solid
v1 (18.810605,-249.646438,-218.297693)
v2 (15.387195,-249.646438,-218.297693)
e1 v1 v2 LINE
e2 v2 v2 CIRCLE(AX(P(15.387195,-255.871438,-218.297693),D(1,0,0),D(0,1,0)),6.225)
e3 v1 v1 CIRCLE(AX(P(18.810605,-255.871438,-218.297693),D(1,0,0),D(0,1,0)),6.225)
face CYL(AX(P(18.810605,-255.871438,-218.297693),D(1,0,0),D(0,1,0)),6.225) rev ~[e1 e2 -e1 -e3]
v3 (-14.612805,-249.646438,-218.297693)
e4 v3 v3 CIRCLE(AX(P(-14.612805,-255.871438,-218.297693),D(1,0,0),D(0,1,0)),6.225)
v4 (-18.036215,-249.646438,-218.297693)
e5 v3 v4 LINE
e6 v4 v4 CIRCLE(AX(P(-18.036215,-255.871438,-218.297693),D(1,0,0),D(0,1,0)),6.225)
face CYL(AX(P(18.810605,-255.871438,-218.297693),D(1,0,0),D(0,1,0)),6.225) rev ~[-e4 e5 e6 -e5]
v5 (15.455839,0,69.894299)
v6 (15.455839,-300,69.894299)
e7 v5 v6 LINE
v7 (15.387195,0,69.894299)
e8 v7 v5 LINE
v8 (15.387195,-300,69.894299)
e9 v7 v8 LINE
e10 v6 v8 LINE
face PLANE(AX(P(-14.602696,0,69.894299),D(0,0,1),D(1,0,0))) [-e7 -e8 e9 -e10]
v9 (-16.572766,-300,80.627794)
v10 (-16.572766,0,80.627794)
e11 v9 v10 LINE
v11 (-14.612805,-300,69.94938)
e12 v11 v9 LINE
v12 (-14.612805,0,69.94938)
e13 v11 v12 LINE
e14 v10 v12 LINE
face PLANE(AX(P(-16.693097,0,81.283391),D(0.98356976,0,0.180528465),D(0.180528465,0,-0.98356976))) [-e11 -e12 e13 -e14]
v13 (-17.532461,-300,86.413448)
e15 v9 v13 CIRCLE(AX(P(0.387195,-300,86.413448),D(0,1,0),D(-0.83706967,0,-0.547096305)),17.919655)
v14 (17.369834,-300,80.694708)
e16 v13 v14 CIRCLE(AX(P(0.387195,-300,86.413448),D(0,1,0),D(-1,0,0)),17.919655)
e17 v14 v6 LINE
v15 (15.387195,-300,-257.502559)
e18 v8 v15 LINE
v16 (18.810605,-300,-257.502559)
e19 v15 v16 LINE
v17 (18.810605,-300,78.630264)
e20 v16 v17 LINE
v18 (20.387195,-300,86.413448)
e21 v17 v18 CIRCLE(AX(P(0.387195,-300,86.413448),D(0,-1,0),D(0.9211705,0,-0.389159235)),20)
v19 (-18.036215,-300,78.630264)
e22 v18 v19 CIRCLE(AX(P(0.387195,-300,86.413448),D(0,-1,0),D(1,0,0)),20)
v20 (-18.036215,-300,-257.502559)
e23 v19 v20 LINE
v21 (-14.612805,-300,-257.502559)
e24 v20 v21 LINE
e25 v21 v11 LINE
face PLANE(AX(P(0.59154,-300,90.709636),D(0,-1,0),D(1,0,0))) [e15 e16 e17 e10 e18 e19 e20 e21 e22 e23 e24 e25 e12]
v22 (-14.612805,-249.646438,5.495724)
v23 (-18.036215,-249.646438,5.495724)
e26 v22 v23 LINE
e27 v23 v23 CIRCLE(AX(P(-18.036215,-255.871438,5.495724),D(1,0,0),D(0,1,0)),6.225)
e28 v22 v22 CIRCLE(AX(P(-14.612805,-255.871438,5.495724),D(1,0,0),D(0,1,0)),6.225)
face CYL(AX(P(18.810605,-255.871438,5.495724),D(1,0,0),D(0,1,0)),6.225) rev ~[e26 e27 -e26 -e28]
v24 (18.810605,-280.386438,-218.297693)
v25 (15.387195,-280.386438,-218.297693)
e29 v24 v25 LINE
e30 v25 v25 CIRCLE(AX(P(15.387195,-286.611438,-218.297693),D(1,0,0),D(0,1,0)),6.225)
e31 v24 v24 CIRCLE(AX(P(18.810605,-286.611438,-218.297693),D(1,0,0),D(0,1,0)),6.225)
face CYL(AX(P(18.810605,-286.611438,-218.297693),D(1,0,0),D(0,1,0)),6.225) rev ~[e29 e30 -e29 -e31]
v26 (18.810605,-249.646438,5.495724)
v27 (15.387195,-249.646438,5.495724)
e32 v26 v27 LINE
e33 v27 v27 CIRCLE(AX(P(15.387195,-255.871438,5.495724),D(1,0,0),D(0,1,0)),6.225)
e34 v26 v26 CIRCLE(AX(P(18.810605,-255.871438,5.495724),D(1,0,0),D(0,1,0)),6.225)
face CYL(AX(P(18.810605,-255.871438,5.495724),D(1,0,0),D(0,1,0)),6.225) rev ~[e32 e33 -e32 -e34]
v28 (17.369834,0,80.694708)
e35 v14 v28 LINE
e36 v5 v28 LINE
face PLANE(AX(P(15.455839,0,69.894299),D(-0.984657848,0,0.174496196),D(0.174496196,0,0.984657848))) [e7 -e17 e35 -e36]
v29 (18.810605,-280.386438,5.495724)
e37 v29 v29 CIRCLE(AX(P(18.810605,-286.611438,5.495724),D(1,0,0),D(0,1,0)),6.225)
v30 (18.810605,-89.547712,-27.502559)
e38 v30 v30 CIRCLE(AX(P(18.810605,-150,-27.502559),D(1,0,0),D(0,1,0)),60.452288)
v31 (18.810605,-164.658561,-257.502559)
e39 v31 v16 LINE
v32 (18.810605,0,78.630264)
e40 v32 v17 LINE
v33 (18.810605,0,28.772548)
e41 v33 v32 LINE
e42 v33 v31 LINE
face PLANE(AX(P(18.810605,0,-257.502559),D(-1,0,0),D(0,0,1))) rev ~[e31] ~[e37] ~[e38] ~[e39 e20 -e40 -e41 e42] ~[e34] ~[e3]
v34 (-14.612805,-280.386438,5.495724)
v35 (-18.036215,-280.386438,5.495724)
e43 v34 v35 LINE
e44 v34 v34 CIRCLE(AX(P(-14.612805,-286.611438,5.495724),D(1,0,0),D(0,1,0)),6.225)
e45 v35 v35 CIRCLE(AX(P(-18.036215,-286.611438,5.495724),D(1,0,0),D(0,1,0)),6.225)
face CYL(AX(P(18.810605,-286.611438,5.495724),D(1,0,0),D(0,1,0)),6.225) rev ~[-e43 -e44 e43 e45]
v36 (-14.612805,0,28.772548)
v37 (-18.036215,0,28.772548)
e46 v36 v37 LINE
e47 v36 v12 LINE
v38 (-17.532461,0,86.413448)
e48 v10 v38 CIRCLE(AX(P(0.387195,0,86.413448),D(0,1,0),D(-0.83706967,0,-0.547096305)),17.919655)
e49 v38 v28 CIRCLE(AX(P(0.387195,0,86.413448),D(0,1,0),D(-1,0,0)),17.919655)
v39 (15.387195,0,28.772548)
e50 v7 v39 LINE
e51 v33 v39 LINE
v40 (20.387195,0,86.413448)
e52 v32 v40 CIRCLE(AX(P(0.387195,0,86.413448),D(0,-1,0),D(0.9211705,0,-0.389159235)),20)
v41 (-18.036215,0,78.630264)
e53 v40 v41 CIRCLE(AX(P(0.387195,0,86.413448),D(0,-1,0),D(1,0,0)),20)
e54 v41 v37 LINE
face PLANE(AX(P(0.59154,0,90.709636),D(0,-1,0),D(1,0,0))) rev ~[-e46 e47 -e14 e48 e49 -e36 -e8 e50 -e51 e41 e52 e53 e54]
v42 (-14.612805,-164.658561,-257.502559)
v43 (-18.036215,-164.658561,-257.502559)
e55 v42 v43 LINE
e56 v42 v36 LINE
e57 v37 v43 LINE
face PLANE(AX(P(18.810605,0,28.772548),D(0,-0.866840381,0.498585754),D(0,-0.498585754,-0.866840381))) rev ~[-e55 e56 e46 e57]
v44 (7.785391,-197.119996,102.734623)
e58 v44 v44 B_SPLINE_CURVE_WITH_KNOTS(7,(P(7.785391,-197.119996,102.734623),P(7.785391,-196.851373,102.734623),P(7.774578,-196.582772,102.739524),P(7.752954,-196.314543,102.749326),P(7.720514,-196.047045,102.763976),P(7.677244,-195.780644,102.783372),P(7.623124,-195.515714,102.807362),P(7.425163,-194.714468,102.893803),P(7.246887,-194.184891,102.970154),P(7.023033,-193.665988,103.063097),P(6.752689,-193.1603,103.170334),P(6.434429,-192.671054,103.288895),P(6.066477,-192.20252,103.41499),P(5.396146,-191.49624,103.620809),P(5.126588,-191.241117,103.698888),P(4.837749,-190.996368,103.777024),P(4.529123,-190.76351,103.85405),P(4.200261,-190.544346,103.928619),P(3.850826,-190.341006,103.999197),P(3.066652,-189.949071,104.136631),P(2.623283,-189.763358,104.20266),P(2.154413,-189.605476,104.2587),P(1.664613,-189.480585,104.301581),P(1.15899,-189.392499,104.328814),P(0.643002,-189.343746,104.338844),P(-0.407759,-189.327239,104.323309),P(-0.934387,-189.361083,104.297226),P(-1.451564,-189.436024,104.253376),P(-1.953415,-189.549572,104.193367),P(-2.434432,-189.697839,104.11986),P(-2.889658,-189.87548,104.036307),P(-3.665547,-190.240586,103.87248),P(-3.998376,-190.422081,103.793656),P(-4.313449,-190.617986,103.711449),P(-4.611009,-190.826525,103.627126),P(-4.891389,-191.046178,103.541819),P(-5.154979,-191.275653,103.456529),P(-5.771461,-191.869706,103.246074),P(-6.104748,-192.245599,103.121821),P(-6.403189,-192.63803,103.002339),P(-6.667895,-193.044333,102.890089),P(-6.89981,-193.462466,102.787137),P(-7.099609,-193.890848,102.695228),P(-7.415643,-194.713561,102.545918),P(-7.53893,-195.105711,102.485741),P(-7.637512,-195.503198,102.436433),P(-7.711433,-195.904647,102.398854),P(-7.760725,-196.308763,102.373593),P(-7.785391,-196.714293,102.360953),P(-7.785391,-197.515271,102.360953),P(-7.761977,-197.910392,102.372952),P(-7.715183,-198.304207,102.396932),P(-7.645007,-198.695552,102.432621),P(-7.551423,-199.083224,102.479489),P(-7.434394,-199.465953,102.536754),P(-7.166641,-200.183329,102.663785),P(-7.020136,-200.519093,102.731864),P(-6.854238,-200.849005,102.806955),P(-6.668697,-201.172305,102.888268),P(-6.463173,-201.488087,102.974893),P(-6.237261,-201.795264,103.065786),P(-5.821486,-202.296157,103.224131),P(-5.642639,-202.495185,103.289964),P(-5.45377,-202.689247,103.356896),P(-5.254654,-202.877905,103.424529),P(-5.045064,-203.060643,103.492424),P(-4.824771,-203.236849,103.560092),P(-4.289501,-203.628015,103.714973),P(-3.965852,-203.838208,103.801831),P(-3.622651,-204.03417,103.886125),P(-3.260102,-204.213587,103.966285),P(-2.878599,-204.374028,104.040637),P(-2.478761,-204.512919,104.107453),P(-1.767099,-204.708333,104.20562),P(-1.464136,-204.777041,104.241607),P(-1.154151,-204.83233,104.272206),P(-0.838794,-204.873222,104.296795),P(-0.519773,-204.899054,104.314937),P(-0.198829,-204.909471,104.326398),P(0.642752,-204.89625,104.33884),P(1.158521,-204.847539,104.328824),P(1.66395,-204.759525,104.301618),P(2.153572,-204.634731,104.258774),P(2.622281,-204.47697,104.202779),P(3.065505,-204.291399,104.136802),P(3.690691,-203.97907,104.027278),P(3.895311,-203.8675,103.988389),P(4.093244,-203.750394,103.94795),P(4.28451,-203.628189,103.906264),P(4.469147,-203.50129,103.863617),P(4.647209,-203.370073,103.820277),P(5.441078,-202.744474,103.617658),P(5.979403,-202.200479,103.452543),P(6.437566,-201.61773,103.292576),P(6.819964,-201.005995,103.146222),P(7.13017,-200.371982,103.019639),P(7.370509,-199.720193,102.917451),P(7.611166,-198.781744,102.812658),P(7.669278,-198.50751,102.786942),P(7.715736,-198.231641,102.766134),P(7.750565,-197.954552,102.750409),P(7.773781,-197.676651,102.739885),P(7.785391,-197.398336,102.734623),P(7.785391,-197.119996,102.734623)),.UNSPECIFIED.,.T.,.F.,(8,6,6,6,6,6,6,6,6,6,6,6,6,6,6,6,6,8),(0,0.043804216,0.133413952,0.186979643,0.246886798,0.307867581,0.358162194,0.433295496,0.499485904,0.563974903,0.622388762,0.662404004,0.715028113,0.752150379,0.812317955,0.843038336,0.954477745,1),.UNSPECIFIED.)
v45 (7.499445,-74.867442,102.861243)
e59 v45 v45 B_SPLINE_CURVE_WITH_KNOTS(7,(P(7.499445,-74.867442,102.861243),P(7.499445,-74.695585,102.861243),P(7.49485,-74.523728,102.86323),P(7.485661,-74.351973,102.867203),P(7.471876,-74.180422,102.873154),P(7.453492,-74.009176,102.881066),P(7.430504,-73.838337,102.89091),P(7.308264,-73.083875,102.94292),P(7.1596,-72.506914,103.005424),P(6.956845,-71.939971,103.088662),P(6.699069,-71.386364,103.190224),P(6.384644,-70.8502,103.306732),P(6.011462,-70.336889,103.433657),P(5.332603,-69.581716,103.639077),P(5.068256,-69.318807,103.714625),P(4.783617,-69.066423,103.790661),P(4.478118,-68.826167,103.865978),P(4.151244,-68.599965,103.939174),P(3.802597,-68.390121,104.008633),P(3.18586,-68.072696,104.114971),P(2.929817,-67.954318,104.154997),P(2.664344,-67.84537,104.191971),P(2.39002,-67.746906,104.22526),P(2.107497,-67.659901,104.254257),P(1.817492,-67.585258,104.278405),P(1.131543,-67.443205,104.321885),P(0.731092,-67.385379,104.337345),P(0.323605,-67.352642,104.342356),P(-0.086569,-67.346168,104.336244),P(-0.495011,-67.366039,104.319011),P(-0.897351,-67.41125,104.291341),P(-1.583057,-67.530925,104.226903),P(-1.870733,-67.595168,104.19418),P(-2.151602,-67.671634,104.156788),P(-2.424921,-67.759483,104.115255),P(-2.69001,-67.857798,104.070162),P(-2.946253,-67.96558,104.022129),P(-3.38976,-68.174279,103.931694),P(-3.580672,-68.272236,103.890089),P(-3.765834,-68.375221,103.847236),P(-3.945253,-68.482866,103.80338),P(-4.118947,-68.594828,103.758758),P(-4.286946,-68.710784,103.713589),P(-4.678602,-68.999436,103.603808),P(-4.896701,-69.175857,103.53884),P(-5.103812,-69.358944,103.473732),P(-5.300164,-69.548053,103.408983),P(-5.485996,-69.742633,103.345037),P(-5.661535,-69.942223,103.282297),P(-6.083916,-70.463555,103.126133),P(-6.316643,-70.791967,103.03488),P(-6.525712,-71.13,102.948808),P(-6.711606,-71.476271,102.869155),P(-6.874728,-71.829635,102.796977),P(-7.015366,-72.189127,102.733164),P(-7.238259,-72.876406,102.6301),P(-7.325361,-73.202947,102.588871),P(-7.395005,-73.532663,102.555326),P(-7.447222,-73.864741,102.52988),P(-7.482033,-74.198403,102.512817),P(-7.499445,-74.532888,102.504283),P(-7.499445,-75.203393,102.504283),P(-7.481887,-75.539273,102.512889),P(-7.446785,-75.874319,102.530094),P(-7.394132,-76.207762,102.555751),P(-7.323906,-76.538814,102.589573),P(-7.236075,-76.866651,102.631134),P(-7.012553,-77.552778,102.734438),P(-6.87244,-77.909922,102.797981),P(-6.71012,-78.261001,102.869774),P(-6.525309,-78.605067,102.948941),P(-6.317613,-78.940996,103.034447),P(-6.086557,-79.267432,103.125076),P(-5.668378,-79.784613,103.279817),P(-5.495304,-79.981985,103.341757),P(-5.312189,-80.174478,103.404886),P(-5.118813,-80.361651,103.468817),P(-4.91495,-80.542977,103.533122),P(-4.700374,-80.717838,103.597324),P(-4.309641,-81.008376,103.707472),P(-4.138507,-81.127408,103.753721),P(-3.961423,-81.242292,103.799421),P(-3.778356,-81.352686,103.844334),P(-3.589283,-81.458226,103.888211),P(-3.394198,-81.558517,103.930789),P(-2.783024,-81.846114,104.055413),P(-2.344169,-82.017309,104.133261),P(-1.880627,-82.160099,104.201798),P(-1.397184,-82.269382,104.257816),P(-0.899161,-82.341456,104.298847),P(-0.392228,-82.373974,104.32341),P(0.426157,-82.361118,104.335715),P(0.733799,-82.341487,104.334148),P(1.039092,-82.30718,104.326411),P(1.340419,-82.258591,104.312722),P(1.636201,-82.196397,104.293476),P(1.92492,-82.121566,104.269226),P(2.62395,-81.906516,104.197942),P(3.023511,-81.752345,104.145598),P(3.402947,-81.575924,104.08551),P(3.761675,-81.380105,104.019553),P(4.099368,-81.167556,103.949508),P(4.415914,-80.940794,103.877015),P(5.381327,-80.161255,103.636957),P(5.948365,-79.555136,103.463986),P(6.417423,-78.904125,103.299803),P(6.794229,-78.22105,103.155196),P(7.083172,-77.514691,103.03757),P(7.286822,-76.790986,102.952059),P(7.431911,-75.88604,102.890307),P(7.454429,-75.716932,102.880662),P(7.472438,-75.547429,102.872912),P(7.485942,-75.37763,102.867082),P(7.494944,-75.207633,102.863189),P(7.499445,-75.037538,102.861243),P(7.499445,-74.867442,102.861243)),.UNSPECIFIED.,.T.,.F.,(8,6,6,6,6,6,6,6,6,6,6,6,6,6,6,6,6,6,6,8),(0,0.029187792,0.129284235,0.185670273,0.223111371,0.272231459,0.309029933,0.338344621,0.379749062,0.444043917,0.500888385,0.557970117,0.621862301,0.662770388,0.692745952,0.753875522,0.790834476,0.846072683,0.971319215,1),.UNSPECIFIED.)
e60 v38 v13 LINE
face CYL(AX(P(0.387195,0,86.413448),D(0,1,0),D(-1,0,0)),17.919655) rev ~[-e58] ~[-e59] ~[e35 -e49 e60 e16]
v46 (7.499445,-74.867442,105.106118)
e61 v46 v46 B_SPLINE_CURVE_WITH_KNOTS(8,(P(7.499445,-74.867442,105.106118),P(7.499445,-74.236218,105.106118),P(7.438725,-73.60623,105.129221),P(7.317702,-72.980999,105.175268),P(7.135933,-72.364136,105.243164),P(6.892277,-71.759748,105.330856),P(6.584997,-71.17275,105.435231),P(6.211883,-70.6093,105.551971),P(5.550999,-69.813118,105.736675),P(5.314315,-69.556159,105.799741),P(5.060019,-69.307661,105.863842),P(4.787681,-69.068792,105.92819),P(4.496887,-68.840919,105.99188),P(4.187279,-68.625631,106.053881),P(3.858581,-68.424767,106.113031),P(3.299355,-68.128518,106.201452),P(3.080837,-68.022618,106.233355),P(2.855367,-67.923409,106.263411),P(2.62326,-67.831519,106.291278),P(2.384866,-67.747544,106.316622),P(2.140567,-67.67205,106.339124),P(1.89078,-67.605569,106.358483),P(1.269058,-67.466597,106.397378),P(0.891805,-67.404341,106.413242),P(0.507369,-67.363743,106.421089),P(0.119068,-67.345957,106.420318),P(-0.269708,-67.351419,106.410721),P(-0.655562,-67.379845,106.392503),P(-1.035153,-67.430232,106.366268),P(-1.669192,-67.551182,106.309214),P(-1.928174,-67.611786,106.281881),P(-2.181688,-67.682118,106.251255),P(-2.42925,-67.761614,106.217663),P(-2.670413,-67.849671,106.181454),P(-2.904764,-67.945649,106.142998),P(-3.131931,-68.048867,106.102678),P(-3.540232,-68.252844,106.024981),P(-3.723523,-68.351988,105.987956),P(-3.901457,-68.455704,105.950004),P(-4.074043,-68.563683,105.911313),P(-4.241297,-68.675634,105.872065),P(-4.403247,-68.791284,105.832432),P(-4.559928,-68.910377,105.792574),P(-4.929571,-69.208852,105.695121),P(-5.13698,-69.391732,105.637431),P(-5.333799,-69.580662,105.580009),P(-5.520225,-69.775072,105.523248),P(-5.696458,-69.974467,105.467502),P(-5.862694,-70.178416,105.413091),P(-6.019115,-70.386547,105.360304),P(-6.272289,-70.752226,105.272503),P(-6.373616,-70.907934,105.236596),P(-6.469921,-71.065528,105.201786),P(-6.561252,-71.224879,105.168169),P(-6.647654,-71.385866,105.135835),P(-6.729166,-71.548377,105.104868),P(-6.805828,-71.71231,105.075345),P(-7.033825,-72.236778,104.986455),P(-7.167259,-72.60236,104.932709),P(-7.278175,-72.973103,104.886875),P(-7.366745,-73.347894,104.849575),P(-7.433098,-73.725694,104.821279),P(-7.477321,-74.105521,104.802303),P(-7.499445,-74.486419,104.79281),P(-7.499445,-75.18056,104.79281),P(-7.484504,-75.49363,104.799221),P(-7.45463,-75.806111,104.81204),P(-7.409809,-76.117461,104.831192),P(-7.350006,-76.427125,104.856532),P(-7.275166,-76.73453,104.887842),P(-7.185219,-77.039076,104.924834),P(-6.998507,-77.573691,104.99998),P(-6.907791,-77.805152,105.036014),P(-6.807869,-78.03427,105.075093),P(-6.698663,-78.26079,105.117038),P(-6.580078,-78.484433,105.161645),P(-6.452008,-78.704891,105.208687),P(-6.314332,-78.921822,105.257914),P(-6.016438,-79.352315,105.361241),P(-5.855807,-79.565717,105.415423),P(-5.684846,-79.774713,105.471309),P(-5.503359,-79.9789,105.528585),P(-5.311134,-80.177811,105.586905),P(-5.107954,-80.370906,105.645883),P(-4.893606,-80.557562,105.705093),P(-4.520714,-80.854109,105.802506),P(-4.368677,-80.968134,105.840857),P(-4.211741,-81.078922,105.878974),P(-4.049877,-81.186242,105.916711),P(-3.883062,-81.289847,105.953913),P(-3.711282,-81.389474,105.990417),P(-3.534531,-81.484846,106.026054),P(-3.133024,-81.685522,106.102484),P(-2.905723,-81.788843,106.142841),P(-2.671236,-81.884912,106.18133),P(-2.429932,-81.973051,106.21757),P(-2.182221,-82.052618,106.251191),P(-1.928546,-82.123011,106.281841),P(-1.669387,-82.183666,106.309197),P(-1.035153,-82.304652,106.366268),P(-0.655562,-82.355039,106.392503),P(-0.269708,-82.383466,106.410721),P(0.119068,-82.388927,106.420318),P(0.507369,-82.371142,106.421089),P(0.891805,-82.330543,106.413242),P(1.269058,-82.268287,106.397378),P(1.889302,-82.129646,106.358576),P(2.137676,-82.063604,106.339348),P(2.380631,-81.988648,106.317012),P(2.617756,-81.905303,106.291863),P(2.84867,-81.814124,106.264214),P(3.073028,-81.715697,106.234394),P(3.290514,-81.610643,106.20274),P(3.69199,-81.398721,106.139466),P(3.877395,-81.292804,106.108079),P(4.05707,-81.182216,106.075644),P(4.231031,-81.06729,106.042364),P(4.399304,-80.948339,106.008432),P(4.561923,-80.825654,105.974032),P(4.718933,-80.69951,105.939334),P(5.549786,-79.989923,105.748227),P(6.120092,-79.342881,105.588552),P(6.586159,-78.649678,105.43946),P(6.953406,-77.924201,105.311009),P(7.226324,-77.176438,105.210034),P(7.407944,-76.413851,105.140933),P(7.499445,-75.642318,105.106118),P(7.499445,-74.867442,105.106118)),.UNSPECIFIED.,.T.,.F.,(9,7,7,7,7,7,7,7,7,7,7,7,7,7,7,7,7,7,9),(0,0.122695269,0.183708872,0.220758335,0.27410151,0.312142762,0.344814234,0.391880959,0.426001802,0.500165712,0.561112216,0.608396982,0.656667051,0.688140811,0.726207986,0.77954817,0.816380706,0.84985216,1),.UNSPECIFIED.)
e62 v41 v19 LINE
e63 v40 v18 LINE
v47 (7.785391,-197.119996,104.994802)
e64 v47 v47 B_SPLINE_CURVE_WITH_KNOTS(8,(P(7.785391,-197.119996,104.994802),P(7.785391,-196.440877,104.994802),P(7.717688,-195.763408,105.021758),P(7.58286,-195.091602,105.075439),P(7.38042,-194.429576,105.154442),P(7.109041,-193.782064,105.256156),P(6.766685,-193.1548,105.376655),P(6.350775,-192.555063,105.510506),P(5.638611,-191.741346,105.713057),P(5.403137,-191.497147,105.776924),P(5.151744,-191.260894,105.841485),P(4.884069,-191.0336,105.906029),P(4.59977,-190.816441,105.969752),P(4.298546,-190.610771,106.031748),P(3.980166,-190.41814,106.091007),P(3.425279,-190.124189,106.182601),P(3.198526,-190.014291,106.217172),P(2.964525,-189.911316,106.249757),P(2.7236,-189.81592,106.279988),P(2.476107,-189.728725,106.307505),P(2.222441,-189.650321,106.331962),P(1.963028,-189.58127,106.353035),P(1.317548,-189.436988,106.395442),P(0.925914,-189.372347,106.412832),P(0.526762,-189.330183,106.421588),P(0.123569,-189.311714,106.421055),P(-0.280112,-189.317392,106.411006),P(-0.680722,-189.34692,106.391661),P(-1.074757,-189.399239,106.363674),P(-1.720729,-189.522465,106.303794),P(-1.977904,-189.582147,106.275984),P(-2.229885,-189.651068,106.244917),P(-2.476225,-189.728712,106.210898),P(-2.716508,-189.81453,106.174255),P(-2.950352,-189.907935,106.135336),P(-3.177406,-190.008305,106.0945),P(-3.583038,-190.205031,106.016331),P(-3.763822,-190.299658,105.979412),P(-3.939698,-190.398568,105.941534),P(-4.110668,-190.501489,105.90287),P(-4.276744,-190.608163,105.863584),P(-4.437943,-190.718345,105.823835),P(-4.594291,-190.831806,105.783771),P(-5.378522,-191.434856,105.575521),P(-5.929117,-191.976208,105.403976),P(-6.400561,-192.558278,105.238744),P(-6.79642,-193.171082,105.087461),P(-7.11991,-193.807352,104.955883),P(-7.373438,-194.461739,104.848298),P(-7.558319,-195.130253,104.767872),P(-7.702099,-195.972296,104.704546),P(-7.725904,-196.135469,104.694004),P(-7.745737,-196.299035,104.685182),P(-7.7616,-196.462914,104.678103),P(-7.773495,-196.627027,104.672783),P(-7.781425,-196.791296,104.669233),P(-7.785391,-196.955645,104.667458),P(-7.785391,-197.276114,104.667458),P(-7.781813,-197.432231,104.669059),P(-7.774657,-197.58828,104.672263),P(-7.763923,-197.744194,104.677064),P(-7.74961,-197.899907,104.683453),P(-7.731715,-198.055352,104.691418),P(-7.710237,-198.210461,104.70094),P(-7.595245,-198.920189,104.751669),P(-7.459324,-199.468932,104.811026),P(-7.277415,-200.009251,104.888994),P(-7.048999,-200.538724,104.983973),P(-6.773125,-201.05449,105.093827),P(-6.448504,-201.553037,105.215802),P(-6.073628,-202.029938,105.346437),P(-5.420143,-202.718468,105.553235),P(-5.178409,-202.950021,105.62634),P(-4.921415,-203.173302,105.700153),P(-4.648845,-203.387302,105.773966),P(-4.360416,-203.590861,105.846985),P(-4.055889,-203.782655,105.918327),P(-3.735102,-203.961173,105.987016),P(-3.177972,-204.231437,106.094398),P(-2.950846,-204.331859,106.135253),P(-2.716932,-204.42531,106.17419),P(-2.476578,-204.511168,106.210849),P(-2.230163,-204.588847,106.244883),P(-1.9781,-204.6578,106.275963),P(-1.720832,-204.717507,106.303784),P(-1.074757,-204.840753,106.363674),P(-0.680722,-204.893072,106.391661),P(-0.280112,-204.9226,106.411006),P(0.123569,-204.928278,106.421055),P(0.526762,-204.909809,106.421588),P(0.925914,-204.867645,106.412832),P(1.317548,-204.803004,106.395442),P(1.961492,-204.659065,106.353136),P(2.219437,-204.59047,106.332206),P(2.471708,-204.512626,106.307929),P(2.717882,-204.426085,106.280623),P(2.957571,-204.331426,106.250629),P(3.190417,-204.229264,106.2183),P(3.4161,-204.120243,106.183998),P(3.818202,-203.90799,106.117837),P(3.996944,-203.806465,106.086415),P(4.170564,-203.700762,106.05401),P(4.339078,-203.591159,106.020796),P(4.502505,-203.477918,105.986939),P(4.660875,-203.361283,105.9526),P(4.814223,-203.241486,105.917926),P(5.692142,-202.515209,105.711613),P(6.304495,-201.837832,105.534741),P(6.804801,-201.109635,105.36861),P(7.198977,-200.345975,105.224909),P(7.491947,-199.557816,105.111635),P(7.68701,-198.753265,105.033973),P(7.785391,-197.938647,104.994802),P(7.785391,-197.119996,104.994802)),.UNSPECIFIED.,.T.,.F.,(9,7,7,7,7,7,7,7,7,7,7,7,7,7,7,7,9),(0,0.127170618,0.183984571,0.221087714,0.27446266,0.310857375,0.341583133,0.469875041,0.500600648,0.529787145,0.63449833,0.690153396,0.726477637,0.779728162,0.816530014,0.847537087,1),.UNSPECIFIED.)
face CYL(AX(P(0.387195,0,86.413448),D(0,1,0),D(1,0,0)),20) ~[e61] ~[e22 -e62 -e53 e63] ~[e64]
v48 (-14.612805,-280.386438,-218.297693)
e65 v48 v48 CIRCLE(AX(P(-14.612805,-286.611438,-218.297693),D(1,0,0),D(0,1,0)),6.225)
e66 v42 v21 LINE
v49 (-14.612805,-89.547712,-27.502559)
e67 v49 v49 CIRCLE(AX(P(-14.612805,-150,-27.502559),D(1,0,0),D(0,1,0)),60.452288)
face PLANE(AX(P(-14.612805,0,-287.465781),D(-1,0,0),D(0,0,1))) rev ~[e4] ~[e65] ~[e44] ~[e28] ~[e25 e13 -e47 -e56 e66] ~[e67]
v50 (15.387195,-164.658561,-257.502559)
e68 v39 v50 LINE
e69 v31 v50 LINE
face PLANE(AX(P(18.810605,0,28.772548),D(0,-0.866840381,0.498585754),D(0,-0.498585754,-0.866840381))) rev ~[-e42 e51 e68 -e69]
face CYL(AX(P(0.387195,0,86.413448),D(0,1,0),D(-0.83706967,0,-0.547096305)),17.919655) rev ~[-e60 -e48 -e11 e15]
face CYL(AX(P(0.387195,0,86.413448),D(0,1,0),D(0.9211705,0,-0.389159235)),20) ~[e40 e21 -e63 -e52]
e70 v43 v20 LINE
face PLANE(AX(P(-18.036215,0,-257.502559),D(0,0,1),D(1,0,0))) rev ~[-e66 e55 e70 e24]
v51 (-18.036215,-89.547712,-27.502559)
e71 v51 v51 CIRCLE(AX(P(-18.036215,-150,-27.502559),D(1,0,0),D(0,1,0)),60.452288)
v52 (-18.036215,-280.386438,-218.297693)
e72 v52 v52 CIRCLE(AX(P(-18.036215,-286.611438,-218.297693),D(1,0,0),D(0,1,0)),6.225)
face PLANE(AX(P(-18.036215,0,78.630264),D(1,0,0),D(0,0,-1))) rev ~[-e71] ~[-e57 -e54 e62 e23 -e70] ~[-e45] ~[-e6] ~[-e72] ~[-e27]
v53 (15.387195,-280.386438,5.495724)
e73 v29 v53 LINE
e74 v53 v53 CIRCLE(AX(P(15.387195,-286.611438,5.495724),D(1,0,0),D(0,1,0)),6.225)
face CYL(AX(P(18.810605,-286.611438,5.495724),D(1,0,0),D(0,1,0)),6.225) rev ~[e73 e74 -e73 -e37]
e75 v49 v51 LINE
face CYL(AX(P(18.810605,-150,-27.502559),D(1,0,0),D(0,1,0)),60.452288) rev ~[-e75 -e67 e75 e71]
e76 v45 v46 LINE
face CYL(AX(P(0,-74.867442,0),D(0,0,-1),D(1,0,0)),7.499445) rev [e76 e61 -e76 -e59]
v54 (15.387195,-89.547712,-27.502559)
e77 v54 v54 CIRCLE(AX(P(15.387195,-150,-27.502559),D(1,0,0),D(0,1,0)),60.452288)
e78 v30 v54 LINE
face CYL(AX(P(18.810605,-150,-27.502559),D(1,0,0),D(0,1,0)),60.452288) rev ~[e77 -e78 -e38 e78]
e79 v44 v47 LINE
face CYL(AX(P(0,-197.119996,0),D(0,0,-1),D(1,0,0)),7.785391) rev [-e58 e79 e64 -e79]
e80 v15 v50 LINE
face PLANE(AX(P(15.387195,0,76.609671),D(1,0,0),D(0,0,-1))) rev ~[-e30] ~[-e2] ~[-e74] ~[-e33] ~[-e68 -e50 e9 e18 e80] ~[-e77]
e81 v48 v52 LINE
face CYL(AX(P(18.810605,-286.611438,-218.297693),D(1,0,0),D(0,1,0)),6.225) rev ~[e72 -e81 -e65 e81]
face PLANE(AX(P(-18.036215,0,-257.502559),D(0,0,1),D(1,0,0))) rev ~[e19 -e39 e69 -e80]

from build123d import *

# Parameters (mm, degrees)
F1_DEPTH  = 300
F3_DEPTH  = 300
F4_R      = 6.225
F5_DEPTH  = 200
F6_R      = 7.4994450041
F6_R_2    = 7.7853905485
F7_DEPTH  = 106.4144483809
F9_DEPTH  = 1000
F10_R     = 60.4522878615
F11_DEPTH = 500


with BuildPart() as f1:
    # F0 (on Front) → F1 (new body)
    with BuildSketch(Plane.XZ):
        with BuildLine():
            Line((-18.0362154643, 86.4134483809), (18.8106045383, 86.4134483809))
            Line((18.8106045383, 86.4134483809), (18.8106045383, 78.6302636906))
            ThreePointArc((18.8106045383, 78.6302636906), (19.9890847523, 82.4428187096), (20.387194537, 86.4134483809))
            ThreePointArc((20.387194537, 86.4134483809), (-3.5834351343, 106.0153385962), (-18.0362154643, 78.6302636906))
            Line((-18.0362154643, 78.6302636906), (-18.0362154643, 86.4134483809))
        make_face()
        with BuildLine():
            Line((18.8106045383, 78.6302636906), (18.8106045383, 86.4134483809))
            Line((18.8106045383, 86.4134483809), (-18.0362154643, 86.4134483809))
            Line((-18.0362154643, 86.4134483809), (-18.0362154643, 78.6302636906))
            ThreePointArc((-18.0362154643, 78.6302636906), (0.387194537, 66.4134483809), (18.8106045383, 78.6302636906))
        make_face()
        with BuildLine():
            Line((18.8106045383, -257.5025590471), (18.8106045383, 78.6302636906))
            ThreePointArc((18.8106045383, 78.6302636906), (0.387194537, 66.4134483809), (-18.0362154643, 78.6302636906))
            Line((-18.0362154643, 78.6302636906), (-18.0362154643, -257.5025590471))
            Line((-18.0362154643, -257.5025590471), (18.8106045383, -257.5025590471))
        make_face()
    extrude(amount=F1_DEPTH)

    # F2 (on face) → F3 (cut)
    with BuildSketch(Plane(origin=(0, 0, 0), x_dir=(-1, 0, 0), z_dir=(0, 1, 0))):
        with BuildLine():
            Line((175.8913316219, 44.6973187515), (175.9091161187, 44.6973187515))
            ThreePointArc((175.9091161187, 44.6973187515), (159.7223112701, 60.9808530469), (143.5343522574, 44.6984661409))
            Line((143.5343522574, 44.6984661409), (143.5521367467, 44.6984661409))
            ThreePointArc((143.5521367467, 44.6984661409), (159.6743751329, 60.9629995089), (175.8916158384, 44.7931905997))
            ThreePointArc((175.8916158384, 44.7931905997), (175.8915447841, 44.7452544649), (175.8913316219, 44.6973187515))
        make_face()
        with BuildLine():
            ThreePointArc((174.2740117009, 37.7436316879), (175.4712371526, 41.1301009041), (175.8913316219, 44.6973187515))
            ThreePointArc((175.8913316219, 44.6973187515), (175.8915447841, 44.7452544649), (175.8916158384, 44.7931905997))
            ThreePointArc((175.8916158384, 44.7931905997), (159.6743751329, 60.9629995089), (143.5521367467, 44.6984661409))
            ThreePointArc((143.5521367467, 44.6984661409), (156.1515321138, 29.0223758967), (174.2740117009, 37.7436316879))
        make_face()
        with BuildLine():
            ThreePointArc((14.612805463, 76.6096711506), (16.7870431212, 81.2988018789), (17.5324608163, 86.4134483809))
            ThreePointArc((17.5324608163, 86.4134483809), (-5.501841039, 103.5876860391), (-15.387194537, 76.6096711506))
            Line((-15.387194537, 76.6096711506), (-15.387194537, 86.4134483809))
            Line((-15.387194537, 86.4134483809), (-0.387194537, 86.4134483809))
            Line((-0.387194537, 86.4134483809), (14.612805463, 86.4134483809))
            Line((14.612805463, 86.4134483809), (14.612805463, 76.6096711506))
        make_face()
        with BuildLine():
            Line((-15.387194537, 86.4134483809), (-15.387194537, 76.6096711506))
            ThreePointArc((-15.387194537, 76.6096711506), (-8.9146132219, 70.6528272461), (-0.387194537, 68.4937930276))
            Line((-0.387194537, 68.4937930276), (-0.387194537, 86.4134483809))
            Line((-0.387194537, 86.4134483809), (-15.387194537, 86.4134483809))
        make_face()
        with BuildLine():
            ThreePointArc((-0.387194537, 68.4937930276), (-8.9146132219, 70.6528272461), (-15.387194537, 76.6096711506))
            Line((-15.387194537, 76.6096711506), (-15.387194537, -287.4657809734))
            Line((-15.387194537, -287.4657809734), (-0.387194537, -287.4657809734))
            Line((-0.387194537, -287.4657809734), (-0.387194537, 68.4937930276))
        make_face()
        with BuildLine():
            Line((14.612805463, -287.4657809734), (14.612805463, 76.6096711506))
            ThreePointArc((14.612805463, 76.6096711506), (8.1402241479, 70.6528272461), (-0.387194537, 68.4937930276))
            Line((-0.387194537, 68.4937930276), (-0.387194537, -287.4657809734))
            Line((-0.387194537, -287.4657809734), (14.612805463, -287.4657809734))
        make_face()
        with BuildLine():
            ThreePointArc((-0.387194537, 68.4937930276), (8.1402241479, 70.6528272461), (14.612805463, 76.6096711506))
            Line((14.612805463, 76.6096711506), (14.612805463, 86.4134483809))
            Line((14.612805463, 86.4134483809), (-0.387194537, 86.4134483809))
            Line((-0.387194537, 86.4134483809), (-0.387194537, 68.4937930276))
        make_face()
    extrude(amount=-F3_DEPTH, mode=Mode.SUBTRACT)

    # F4 (on face) → F5 (cut)
    with BuildSketch(Plane.YZ.offset(18.8106045383)):
        with Locations((-286.6114377975, 5.4957243272)):
            Circle(F4_R)
        with Locations((-255.8714377975, 5.4957243272)):
            Circle(F4_R)
        with Locations((-255.8714377975, -218.297693353)):
            Circle(F4_R)
        with Locations((-286.6114377975, -218.297693353)):
            Circle(F4_R)
    extrude(amount=-F5_DEPTH, mode=Mode.SUBTRACT)

    # F6 (on Top) → F7 (cut, through all)
    with BuildSketch(Plane.XY):
        with Locations((0, -74.8674422503)):
            Circle(F6_R)
        with Locations((0, -197.1199959517)):
            Circle(F6_R_2)
    extrude(amount=F7_DEPTH, mode=Mode.SUBTRACT)

    # F8 (on Front) → F9 (cut)
    with BuildSketch(Plane.XZ):
        Polygon((15.4558392242, 69.8942989111), (17.4741577357, 81.283390522), (-16.6930966079, 81.283390522), (-14.6026955917, 69.8942989111), align=None)
    extrude(amount=F9_DEPTH, mode=Mode.SUBTRACT)

    # F10 (on face) → F11 (cut)
    with BuildSketch(Plane.YZ.offset(18.8106045383)):
        Polygon((0, 28.7725478411), (-164.6585613489, -257.5025590471), (0, -257.5025590471), align=None)
        with Locations((-150, -27.5025590471)):
            Circle(F10_R)
    extrude(amount=-F11_DEPTH, mode=Mode.SUBTRACT)


solid = f1.part
